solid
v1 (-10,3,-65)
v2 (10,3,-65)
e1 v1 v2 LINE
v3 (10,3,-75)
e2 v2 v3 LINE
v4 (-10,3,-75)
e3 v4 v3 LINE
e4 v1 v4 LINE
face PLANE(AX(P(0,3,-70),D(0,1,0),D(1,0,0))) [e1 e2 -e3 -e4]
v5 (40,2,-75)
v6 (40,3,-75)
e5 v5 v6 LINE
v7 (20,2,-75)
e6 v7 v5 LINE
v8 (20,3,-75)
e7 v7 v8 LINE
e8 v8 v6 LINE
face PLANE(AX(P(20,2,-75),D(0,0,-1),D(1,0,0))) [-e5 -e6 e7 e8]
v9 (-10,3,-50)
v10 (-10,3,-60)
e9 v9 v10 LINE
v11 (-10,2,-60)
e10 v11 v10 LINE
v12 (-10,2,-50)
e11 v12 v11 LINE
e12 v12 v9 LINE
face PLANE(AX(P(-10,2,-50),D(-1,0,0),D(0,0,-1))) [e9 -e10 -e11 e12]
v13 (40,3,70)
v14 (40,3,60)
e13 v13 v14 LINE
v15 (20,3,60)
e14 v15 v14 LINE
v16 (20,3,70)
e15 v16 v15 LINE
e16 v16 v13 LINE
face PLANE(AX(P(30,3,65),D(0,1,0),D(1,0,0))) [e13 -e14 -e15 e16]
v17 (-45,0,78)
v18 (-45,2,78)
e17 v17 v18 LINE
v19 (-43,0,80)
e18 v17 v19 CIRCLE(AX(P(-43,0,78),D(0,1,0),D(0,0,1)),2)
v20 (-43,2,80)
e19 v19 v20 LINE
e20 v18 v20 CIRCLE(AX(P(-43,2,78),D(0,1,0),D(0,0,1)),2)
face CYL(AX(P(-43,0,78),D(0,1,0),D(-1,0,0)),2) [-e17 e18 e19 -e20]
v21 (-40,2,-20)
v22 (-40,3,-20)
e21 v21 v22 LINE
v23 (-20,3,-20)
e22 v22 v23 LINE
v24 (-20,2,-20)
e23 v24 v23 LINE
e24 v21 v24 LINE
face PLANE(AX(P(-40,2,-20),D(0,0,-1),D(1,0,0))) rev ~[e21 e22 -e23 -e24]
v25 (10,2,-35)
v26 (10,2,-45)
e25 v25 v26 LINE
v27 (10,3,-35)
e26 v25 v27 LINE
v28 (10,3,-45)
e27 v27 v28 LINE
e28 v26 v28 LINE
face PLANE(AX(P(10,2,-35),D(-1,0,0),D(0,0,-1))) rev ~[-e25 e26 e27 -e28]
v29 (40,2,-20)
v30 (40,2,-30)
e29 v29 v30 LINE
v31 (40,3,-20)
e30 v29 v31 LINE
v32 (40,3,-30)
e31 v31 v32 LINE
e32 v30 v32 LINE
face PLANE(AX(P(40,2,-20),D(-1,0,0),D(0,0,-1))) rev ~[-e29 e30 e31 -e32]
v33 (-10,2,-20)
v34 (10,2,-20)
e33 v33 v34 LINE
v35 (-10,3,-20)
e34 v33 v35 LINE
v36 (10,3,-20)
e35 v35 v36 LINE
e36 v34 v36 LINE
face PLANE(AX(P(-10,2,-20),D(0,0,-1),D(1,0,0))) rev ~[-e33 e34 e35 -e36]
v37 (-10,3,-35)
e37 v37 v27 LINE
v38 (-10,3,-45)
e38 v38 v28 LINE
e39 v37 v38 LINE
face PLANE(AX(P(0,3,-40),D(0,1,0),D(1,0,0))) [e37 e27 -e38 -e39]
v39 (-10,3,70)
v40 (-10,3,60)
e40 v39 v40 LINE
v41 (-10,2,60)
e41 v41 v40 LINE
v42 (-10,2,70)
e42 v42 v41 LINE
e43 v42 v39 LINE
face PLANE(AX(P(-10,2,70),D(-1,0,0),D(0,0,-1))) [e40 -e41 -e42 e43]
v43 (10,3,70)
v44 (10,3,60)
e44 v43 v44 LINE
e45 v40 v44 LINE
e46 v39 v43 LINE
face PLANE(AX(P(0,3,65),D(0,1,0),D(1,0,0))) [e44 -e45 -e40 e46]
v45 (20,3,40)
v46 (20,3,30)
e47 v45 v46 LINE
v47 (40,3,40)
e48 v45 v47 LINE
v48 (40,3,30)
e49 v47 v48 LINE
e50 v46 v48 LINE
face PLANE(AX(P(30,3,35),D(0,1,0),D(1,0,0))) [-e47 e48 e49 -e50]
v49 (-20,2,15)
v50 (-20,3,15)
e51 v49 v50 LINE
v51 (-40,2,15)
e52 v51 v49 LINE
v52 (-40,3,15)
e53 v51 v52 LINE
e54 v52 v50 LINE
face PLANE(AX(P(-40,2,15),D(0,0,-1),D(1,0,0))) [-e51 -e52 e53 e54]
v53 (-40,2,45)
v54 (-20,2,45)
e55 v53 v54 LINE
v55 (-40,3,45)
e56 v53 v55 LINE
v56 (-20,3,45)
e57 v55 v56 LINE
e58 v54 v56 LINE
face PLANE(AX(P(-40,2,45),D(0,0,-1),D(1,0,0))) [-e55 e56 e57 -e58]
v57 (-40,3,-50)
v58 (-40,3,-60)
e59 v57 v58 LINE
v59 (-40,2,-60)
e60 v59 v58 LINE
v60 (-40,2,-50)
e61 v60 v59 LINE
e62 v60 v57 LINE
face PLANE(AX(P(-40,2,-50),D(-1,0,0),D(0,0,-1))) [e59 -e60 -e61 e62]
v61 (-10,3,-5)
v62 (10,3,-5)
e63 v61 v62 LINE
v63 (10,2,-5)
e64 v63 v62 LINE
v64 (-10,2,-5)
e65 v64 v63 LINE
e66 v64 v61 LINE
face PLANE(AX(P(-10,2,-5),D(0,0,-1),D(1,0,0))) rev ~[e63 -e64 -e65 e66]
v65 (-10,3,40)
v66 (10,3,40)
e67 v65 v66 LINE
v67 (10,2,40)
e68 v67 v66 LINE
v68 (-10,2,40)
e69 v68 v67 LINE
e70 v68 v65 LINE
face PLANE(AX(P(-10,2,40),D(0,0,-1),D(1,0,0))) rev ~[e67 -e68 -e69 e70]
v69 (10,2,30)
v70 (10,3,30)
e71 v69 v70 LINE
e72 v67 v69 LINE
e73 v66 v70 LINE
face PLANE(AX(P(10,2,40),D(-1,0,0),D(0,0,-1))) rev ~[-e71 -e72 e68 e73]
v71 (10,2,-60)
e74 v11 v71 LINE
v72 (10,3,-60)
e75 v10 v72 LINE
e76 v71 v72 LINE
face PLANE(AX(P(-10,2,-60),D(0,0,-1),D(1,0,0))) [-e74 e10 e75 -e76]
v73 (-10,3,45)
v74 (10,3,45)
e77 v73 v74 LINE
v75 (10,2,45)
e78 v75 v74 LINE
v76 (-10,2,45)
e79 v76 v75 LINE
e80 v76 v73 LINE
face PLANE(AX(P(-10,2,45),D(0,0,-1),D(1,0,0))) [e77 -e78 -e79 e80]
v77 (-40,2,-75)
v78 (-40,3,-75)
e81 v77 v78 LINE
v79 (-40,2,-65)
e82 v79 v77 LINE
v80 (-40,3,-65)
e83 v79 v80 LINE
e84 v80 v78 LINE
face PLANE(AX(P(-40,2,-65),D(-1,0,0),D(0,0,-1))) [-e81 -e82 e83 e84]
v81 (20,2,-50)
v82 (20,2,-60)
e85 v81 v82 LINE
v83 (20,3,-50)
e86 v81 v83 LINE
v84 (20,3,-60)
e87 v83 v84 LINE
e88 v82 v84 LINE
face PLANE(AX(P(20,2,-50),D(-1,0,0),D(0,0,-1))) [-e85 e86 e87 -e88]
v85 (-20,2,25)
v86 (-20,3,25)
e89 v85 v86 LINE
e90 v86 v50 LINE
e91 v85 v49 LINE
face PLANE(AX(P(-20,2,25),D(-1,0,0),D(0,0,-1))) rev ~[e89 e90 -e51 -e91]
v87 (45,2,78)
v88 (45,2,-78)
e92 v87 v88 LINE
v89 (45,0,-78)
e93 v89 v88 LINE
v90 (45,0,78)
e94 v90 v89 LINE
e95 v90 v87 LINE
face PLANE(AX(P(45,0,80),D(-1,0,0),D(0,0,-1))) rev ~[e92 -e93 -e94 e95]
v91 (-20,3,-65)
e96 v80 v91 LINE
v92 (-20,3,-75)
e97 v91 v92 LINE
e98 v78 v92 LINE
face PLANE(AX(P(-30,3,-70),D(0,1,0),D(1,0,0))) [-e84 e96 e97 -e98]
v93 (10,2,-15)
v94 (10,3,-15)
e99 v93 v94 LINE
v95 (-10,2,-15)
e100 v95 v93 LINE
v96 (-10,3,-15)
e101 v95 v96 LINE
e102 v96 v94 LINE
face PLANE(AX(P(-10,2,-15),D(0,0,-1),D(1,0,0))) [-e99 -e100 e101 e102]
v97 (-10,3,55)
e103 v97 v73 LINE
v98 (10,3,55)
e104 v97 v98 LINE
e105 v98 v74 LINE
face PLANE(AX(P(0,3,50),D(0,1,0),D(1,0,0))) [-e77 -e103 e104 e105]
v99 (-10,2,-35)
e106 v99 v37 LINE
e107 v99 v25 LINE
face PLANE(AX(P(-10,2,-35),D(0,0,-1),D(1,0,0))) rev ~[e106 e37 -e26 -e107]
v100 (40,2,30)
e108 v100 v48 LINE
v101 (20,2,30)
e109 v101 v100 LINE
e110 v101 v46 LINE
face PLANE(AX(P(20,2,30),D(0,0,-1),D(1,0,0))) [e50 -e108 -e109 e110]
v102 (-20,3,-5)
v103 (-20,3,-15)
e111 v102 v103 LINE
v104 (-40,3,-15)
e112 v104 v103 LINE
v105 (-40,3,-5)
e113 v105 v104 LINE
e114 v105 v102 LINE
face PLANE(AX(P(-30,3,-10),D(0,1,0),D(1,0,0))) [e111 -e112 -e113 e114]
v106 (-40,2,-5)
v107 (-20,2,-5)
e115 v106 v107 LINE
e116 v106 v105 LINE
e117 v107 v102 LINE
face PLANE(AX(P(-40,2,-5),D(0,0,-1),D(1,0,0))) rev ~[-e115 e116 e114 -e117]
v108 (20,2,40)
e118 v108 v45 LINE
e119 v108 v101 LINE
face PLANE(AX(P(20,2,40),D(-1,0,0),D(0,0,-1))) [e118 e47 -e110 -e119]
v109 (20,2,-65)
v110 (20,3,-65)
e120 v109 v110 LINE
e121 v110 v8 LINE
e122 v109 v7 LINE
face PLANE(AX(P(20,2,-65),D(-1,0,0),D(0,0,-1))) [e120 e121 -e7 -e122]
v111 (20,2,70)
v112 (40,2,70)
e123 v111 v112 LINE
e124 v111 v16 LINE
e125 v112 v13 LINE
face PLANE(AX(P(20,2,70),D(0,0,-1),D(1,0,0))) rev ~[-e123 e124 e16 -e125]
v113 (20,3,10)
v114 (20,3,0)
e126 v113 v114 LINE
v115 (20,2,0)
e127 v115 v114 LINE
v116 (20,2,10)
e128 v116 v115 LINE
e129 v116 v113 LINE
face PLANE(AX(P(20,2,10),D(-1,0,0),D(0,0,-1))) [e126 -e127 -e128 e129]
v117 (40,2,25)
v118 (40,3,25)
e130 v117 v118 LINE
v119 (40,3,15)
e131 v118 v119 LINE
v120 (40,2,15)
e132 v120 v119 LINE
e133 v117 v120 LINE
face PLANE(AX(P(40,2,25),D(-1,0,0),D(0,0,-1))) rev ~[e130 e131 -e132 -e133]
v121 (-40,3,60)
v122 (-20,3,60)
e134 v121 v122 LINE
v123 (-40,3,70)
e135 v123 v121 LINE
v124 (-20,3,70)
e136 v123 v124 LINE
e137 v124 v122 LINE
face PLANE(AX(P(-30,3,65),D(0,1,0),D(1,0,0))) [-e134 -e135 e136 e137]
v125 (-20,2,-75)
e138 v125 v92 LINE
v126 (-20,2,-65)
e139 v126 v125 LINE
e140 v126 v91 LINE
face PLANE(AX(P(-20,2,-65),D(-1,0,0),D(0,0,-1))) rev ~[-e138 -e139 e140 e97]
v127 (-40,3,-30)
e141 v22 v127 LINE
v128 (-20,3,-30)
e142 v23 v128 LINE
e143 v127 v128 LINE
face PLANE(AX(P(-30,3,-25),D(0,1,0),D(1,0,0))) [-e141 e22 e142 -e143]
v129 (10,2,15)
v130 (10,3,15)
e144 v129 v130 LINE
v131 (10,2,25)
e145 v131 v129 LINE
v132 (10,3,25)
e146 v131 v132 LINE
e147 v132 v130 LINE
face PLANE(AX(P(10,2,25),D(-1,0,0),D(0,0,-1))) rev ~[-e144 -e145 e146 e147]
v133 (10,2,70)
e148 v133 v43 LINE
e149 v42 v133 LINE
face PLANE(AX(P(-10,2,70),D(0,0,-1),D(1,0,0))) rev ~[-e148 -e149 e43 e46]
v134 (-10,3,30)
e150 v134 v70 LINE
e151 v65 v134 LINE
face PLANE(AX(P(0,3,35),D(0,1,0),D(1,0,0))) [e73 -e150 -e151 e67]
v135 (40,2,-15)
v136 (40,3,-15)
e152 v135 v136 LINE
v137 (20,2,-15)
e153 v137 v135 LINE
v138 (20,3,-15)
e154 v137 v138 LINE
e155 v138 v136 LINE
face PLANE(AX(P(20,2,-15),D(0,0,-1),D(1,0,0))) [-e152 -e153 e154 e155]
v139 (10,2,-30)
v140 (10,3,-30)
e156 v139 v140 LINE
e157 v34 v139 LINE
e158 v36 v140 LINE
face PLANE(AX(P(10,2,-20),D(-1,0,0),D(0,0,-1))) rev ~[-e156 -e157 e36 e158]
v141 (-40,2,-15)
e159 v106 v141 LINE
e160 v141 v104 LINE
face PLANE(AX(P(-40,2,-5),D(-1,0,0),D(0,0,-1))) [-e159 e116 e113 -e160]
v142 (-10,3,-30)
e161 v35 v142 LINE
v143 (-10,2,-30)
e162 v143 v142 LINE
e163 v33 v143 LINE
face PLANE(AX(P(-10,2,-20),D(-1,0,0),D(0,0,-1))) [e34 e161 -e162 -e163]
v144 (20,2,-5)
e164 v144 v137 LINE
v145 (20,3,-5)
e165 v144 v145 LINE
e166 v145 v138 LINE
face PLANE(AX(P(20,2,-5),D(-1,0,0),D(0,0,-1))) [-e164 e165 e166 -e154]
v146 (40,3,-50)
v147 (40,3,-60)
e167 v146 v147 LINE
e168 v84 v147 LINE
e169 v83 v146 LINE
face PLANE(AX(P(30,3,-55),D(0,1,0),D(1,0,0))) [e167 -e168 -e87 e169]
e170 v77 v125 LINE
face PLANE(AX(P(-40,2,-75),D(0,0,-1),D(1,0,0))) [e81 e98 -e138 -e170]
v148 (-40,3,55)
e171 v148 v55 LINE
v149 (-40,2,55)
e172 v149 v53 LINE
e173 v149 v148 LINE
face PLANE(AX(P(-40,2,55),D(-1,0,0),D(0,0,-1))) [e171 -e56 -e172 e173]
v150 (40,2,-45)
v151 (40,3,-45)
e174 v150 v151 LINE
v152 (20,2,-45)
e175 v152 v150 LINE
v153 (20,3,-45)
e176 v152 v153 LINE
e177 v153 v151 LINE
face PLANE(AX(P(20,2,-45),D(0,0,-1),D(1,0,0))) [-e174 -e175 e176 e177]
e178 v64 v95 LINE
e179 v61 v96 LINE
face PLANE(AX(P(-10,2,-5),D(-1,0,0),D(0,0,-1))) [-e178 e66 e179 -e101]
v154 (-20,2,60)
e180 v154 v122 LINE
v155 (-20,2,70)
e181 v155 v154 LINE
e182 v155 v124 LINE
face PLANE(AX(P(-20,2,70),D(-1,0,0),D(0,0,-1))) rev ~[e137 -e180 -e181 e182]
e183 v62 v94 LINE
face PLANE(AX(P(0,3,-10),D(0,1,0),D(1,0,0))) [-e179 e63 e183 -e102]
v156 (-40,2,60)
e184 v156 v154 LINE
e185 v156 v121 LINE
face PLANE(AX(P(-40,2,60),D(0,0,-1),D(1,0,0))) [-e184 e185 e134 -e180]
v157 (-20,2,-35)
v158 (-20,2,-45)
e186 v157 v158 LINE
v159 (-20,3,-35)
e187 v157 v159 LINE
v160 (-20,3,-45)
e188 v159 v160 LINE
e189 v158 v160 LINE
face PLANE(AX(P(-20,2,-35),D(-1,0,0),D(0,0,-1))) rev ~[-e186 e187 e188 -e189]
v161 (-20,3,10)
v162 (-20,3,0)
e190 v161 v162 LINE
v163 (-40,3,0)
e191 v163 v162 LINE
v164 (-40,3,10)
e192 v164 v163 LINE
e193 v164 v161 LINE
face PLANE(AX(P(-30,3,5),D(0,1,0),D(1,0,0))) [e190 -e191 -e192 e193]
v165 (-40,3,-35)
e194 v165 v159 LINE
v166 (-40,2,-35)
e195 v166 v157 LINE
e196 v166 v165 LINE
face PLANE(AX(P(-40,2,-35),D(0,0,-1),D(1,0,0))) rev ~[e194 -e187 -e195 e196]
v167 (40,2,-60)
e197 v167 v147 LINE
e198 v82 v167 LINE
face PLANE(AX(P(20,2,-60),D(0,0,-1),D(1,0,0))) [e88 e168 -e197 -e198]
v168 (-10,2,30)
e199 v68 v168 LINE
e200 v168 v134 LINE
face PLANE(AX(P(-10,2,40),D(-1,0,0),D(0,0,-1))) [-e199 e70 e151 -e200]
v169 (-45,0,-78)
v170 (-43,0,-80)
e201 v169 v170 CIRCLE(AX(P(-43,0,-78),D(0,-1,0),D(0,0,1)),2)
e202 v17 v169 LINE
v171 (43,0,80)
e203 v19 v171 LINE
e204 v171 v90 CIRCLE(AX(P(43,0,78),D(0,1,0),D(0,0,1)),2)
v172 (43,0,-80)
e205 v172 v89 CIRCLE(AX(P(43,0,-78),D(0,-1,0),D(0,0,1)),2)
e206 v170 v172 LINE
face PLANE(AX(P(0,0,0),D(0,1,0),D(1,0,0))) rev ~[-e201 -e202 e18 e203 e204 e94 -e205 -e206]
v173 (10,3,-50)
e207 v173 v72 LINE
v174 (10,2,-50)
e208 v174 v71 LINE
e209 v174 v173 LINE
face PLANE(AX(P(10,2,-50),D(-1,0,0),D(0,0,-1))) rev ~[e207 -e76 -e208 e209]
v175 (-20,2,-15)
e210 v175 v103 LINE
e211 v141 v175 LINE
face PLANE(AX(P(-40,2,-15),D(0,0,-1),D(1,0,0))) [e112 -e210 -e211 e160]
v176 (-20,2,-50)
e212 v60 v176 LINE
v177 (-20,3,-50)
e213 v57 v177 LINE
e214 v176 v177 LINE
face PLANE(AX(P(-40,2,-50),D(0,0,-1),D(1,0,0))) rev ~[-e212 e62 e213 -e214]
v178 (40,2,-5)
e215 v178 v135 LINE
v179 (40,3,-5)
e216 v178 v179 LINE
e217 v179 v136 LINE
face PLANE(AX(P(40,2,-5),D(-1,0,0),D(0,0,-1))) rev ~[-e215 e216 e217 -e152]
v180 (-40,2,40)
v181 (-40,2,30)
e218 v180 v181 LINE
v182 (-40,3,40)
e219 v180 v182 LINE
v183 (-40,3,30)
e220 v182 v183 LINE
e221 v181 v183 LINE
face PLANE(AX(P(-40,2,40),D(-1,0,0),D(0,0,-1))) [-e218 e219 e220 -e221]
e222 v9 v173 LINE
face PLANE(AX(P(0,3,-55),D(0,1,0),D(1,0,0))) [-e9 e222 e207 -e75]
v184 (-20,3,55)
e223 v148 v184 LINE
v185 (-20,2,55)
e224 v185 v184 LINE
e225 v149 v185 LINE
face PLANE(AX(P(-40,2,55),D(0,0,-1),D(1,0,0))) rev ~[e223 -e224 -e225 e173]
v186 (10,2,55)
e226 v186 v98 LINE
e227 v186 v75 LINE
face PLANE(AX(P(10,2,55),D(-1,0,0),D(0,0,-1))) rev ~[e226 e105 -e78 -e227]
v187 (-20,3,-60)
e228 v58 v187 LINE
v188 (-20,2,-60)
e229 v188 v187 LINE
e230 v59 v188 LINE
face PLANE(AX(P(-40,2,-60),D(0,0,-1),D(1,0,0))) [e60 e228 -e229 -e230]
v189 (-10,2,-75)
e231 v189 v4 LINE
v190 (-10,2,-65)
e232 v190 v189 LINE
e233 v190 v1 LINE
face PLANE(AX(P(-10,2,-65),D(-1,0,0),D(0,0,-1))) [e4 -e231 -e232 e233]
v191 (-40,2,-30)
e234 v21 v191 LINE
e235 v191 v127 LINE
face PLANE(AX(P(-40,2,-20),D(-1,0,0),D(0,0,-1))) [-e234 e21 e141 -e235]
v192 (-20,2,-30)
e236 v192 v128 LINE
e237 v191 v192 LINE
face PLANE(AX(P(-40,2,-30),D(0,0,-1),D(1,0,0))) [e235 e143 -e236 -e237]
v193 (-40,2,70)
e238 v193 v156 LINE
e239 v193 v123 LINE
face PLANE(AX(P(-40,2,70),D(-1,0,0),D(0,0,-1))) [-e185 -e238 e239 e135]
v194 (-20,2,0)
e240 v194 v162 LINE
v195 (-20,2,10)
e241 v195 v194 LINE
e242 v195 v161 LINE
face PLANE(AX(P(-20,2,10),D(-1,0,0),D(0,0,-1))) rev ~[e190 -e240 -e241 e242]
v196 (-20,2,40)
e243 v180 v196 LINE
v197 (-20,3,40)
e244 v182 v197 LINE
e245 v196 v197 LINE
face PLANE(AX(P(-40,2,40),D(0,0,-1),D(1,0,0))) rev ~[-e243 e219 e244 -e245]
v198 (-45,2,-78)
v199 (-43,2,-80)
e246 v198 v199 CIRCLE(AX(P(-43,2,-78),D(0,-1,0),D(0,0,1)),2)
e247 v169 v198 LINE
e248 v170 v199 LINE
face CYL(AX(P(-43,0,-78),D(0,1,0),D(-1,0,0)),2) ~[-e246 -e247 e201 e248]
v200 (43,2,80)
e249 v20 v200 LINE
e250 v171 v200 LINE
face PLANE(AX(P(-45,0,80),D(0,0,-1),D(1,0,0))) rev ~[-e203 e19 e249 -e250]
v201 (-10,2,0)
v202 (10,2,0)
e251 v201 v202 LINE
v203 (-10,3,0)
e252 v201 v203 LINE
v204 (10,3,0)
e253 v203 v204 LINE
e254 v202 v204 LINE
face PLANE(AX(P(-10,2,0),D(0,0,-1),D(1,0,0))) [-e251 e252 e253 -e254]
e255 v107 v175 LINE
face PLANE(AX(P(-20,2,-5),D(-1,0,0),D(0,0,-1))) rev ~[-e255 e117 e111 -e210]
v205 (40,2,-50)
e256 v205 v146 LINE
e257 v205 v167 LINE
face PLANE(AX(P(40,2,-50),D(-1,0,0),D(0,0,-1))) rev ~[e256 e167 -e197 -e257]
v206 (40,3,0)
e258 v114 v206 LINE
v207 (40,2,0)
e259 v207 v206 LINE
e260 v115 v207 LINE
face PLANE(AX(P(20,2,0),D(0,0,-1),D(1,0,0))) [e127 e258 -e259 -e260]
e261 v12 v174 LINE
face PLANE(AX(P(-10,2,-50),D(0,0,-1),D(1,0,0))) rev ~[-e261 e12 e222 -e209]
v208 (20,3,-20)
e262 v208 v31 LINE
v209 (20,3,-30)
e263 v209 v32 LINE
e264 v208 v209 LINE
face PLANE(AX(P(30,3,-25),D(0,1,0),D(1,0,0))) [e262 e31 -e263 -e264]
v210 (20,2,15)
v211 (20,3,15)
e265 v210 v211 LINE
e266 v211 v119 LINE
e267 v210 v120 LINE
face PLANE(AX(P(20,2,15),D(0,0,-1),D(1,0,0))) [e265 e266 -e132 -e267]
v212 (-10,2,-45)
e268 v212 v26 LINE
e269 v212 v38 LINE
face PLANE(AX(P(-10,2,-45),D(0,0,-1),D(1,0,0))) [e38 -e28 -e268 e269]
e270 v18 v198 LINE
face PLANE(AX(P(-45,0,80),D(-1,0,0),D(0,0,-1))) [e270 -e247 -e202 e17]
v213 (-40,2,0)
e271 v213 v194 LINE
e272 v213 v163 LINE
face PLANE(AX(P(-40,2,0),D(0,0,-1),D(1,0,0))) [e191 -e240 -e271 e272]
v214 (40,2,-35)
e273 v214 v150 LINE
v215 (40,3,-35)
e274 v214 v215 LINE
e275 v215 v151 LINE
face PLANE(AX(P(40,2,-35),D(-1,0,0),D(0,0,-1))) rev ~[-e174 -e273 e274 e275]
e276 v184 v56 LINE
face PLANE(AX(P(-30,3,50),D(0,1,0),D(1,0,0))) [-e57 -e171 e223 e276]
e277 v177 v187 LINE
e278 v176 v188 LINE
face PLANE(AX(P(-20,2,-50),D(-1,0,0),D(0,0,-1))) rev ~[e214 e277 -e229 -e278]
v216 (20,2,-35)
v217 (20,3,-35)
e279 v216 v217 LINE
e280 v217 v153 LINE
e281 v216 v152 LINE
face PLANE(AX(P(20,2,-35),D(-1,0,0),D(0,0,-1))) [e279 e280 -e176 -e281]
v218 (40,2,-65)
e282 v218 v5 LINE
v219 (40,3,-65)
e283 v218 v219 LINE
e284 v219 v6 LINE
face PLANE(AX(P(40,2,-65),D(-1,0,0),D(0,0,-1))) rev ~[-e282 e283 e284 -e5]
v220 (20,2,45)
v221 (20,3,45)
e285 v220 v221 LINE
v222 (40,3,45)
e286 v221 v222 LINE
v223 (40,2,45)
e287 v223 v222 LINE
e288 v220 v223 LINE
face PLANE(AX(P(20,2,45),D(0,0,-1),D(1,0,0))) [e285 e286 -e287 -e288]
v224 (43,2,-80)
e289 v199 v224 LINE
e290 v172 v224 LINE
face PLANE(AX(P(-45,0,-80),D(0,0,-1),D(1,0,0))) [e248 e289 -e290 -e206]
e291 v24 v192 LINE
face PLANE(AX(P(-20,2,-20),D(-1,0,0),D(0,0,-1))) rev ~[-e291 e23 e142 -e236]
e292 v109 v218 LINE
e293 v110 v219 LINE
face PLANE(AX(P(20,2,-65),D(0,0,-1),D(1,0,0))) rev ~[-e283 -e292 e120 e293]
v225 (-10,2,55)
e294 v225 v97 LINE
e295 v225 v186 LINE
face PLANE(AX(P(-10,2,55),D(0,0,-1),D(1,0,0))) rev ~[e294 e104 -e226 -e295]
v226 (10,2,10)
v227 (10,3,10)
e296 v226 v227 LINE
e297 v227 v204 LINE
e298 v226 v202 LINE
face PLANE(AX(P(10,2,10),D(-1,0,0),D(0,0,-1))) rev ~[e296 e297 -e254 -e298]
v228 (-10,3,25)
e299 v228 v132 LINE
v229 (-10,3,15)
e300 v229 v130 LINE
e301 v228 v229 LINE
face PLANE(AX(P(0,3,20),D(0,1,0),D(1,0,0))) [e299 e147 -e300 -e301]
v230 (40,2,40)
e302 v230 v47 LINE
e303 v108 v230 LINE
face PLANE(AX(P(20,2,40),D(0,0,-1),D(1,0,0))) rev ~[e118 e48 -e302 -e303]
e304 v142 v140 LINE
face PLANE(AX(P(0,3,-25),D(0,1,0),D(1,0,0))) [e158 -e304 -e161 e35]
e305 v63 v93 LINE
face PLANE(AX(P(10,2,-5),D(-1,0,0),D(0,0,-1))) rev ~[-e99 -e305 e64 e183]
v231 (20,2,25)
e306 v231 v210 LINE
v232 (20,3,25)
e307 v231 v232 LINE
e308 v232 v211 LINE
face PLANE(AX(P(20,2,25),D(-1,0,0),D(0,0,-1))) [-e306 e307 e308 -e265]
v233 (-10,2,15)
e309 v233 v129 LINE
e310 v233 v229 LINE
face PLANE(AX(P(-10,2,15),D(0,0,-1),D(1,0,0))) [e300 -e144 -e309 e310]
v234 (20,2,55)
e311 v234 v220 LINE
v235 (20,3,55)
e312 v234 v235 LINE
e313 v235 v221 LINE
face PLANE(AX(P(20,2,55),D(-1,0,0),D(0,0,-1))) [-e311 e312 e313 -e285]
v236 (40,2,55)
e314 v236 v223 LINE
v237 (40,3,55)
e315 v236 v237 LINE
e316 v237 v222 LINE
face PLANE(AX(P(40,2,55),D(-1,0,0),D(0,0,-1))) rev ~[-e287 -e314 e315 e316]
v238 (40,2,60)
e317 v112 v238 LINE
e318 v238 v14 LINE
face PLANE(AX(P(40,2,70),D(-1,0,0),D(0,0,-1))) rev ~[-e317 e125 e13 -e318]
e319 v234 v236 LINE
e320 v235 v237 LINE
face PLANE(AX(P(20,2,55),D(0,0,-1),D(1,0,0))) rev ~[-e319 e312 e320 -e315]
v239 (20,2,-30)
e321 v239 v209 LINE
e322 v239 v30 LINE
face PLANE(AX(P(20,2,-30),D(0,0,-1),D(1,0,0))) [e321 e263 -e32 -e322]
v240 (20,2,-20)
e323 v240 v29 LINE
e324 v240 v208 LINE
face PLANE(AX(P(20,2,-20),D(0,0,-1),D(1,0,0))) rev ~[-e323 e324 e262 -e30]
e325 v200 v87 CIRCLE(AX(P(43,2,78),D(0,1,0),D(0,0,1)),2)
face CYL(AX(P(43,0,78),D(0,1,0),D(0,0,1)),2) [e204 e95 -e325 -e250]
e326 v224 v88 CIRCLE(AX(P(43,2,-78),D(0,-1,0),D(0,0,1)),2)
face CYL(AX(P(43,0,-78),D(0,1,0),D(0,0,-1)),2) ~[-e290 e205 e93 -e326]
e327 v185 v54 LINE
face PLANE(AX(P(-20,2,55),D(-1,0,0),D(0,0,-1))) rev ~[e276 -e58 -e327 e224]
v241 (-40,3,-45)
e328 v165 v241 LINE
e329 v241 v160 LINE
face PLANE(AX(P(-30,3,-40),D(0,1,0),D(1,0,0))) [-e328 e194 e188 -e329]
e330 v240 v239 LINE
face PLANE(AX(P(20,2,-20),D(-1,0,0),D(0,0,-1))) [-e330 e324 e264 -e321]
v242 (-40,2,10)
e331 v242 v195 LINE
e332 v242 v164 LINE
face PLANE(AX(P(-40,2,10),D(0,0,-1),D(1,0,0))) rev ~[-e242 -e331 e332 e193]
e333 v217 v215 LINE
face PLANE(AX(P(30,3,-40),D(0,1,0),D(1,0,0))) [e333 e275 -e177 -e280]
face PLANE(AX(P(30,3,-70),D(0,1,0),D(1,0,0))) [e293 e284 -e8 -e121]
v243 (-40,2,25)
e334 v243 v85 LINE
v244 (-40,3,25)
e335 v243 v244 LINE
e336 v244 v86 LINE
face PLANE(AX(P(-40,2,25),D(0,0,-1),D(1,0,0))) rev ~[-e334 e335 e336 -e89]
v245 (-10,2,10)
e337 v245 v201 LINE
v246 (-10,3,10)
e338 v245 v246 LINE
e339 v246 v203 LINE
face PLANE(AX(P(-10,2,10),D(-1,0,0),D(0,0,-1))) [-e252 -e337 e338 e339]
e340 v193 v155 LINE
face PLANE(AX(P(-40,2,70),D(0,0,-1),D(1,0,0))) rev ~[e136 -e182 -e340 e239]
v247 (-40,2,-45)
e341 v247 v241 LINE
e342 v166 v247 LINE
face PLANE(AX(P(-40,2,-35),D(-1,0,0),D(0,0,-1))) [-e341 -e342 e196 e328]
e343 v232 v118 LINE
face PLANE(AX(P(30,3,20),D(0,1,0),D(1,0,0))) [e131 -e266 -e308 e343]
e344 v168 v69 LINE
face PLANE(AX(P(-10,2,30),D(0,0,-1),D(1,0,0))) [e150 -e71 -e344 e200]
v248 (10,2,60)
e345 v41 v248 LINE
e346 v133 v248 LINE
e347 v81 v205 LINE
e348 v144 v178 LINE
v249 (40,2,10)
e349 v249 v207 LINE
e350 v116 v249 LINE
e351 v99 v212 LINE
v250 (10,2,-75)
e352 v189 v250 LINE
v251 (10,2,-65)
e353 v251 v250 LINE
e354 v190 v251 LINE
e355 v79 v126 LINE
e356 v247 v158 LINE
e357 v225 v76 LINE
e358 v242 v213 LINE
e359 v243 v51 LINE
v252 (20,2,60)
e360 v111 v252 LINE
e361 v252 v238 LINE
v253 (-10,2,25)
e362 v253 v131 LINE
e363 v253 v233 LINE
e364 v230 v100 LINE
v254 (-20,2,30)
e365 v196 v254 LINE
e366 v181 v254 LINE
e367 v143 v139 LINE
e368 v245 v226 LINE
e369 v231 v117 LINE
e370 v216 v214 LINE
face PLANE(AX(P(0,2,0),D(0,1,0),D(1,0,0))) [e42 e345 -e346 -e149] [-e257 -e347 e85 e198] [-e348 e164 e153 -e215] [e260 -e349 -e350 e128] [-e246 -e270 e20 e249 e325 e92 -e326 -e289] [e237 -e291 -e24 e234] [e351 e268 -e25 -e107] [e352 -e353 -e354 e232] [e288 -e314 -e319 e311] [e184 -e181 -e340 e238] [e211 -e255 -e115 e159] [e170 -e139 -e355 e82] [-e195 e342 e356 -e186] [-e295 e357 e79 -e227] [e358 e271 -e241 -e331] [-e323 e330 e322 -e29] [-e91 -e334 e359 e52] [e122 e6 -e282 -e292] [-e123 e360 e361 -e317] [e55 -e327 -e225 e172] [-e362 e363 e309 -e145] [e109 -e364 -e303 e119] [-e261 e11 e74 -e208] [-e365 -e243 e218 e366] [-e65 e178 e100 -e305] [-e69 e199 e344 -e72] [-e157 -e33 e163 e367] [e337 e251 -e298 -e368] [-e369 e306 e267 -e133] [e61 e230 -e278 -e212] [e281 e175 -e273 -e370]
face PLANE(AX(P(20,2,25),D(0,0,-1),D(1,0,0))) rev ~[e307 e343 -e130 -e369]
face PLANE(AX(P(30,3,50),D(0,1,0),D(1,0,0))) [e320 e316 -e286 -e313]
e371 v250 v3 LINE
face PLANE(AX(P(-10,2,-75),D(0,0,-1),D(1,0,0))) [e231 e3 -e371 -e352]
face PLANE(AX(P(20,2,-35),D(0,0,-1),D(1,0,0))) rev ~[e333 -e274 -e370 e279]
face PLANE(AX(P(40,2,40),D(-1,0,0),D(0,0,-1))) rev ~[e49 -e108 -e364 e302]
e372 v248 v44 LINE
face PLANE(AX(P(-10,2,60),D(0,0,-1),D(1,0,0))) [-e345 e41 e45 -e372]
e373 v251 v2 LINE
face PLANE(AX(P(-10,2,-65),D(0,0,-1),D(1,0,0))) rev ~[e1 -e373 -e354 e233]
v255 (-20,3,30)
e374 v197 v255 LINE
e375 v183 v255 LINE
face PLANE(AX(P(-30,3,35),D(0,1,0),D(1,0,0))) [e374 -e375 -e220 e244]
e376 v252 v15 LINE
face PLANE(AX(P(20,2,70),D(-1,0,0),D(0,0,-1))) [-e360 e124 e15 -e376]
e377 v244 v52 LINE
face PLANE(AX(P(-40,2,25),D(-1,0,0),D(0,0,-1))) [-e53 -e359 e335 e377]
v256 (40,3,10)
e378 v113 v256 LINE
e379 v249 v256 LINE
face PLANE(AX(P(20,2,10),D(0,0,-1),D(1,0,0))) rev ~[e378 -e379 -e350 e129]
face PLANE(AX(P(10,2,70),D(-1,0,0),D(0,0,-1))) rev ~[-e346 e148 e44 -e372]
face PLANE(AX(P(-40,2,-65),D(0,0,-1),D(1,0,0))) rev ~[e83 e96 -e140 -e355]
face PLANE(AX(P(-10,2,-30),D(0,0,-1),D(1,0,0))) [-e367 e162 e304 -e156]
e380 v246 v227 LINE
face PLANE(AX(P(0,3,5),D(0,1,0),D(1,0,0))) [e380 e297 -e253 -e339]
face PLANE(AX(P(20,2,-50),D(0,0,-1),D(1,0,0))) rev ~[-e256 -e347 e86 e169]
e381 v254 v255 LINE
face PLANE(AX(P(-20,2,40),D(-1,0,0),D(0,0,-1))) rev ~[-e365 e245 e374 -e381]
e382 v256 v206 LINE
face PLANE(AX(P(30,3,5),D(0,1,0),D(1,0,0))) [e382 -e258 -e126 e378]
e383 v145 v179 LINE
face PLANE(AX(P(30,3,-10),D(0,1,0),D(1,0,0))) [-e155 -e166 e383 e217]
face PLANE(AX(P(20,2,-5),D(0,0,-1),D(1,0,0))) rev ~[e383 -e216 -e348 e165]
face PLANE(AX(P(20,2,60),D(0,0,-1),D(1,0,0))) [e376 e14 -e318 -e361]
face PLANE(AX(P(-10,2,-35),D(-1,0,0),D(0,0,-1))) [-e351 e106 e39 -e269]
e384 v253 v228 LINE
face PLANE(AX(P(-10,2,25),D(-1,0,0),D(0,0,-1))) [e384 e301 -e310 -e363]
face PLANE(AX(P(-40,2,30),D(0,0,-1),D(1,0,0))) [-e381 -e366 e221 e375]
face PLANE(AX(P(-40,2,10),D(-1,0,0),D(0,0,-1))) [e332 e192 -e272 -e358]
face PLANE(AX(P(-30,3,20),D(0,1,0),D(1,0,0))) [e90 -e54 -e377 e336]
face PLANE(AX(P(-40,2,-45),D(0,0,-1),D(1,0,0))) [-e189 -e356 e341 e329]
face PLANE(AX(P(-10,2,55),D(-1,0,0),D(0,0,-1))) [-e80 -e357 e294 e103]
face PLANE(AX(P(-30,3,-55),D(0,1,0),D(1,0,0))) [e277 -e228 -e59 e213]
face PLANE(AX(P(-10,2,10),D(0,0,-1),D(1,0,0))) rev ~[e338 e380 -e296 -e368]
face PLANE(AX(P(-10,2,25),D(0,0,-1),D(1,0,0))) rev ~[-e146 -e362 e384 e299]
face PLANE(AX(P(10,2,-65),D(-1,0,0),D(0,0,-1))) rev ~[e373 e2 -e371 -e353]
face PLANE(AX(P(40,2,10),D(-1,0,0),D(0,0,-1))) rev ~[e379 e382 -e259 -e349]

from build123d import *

# Parameters (mm, degrees)
SKETCH1_W           = 90
SKETCH1_H           = 160
BOSS_EXTRUDE1_DEPTH = 2
SKETCH2_W           = 20
SKETCH2_H           = 10
BOSS_EXTRUDE2_DEPTH = 1
LPATTERN1_COUNT     = 3
LPATTERN1_PITCH     = 30
FILLET1_R           = 2


with BuildPart() as part:
    # Sketch1 → Boss-Extrude1 (new body)
    with BuildSketch(Plane(origin=(0, 0, 0), x_dir=(1, 0, 0), z_dir=(0, 1, 0))):
        Rectangle(SKETCH1_W, SKETCH1_H)
    extrude(amount=BOSS_EXTRUDE1_DEPTH)

    # Sketch2 → Boss-Extrude2 (add)
    with BuildSketch(Plane(origin=(0, 2, 0), x_dir=(1, 0, 0), z_dir=(0, 1, 0))):
        with Locations((-30, 70)):
            Rectangle(SKETCH2_W, SKETCH2_H)
        with Locations((-30, 55)):
            Rectangle(SKETCH2_W, SKETCH2_H)
        with Locations((-30, 40)):
            Rectangle(SKETCH2_W, SKETCH2_H)
        with Locations((-30, 25)):
            Rectangle(SKETCH2_W, SKETCH2_H)
        with Locations((-30, 10)):
            Rectangle(SKETCH2_W, SKETCH2_H)
        with Locations((-30, -5)):
            Rectangle(SKETCH2_W, SKETCH2_H)
        with Locations((-30, -20)):
            Rectangle(SKETCH2_W, SKETCH2_H)
        with Locations((-30, -35)):
            Rectangle(SKETCH2_W, SKETCH2_H)
        with Locations((-30, -50)):
            Rectangle(SKETCH2_W, SKETCH2_H)
        with Locations((-30, -65)):
            Rectangle(SKETCH2_W, SKETCH2_H)
    boss_extrude2 = extrude(amount=BOSS_EXTRUDE2_DEPTH)

    # LPattern1: Boss-Extrude2 ×3
    with Locations(*[(i * LPATTERN1_PITCH, 0, 0) for i in range(1, LPATTERN1_COUNT)]):
        add(boss_extrude2)

    # Fillet1
    fillet1_edges = [part.edges().sort_by_distance(p)[0] for p in [
        (-45, 1, -80),
        (45, 1, -80),
        (45, 1, 80),
        (-45, 1, 80),
    ]]
    fillet(fillet1_edges, radius=FILLET1_R)


solid = part.part
